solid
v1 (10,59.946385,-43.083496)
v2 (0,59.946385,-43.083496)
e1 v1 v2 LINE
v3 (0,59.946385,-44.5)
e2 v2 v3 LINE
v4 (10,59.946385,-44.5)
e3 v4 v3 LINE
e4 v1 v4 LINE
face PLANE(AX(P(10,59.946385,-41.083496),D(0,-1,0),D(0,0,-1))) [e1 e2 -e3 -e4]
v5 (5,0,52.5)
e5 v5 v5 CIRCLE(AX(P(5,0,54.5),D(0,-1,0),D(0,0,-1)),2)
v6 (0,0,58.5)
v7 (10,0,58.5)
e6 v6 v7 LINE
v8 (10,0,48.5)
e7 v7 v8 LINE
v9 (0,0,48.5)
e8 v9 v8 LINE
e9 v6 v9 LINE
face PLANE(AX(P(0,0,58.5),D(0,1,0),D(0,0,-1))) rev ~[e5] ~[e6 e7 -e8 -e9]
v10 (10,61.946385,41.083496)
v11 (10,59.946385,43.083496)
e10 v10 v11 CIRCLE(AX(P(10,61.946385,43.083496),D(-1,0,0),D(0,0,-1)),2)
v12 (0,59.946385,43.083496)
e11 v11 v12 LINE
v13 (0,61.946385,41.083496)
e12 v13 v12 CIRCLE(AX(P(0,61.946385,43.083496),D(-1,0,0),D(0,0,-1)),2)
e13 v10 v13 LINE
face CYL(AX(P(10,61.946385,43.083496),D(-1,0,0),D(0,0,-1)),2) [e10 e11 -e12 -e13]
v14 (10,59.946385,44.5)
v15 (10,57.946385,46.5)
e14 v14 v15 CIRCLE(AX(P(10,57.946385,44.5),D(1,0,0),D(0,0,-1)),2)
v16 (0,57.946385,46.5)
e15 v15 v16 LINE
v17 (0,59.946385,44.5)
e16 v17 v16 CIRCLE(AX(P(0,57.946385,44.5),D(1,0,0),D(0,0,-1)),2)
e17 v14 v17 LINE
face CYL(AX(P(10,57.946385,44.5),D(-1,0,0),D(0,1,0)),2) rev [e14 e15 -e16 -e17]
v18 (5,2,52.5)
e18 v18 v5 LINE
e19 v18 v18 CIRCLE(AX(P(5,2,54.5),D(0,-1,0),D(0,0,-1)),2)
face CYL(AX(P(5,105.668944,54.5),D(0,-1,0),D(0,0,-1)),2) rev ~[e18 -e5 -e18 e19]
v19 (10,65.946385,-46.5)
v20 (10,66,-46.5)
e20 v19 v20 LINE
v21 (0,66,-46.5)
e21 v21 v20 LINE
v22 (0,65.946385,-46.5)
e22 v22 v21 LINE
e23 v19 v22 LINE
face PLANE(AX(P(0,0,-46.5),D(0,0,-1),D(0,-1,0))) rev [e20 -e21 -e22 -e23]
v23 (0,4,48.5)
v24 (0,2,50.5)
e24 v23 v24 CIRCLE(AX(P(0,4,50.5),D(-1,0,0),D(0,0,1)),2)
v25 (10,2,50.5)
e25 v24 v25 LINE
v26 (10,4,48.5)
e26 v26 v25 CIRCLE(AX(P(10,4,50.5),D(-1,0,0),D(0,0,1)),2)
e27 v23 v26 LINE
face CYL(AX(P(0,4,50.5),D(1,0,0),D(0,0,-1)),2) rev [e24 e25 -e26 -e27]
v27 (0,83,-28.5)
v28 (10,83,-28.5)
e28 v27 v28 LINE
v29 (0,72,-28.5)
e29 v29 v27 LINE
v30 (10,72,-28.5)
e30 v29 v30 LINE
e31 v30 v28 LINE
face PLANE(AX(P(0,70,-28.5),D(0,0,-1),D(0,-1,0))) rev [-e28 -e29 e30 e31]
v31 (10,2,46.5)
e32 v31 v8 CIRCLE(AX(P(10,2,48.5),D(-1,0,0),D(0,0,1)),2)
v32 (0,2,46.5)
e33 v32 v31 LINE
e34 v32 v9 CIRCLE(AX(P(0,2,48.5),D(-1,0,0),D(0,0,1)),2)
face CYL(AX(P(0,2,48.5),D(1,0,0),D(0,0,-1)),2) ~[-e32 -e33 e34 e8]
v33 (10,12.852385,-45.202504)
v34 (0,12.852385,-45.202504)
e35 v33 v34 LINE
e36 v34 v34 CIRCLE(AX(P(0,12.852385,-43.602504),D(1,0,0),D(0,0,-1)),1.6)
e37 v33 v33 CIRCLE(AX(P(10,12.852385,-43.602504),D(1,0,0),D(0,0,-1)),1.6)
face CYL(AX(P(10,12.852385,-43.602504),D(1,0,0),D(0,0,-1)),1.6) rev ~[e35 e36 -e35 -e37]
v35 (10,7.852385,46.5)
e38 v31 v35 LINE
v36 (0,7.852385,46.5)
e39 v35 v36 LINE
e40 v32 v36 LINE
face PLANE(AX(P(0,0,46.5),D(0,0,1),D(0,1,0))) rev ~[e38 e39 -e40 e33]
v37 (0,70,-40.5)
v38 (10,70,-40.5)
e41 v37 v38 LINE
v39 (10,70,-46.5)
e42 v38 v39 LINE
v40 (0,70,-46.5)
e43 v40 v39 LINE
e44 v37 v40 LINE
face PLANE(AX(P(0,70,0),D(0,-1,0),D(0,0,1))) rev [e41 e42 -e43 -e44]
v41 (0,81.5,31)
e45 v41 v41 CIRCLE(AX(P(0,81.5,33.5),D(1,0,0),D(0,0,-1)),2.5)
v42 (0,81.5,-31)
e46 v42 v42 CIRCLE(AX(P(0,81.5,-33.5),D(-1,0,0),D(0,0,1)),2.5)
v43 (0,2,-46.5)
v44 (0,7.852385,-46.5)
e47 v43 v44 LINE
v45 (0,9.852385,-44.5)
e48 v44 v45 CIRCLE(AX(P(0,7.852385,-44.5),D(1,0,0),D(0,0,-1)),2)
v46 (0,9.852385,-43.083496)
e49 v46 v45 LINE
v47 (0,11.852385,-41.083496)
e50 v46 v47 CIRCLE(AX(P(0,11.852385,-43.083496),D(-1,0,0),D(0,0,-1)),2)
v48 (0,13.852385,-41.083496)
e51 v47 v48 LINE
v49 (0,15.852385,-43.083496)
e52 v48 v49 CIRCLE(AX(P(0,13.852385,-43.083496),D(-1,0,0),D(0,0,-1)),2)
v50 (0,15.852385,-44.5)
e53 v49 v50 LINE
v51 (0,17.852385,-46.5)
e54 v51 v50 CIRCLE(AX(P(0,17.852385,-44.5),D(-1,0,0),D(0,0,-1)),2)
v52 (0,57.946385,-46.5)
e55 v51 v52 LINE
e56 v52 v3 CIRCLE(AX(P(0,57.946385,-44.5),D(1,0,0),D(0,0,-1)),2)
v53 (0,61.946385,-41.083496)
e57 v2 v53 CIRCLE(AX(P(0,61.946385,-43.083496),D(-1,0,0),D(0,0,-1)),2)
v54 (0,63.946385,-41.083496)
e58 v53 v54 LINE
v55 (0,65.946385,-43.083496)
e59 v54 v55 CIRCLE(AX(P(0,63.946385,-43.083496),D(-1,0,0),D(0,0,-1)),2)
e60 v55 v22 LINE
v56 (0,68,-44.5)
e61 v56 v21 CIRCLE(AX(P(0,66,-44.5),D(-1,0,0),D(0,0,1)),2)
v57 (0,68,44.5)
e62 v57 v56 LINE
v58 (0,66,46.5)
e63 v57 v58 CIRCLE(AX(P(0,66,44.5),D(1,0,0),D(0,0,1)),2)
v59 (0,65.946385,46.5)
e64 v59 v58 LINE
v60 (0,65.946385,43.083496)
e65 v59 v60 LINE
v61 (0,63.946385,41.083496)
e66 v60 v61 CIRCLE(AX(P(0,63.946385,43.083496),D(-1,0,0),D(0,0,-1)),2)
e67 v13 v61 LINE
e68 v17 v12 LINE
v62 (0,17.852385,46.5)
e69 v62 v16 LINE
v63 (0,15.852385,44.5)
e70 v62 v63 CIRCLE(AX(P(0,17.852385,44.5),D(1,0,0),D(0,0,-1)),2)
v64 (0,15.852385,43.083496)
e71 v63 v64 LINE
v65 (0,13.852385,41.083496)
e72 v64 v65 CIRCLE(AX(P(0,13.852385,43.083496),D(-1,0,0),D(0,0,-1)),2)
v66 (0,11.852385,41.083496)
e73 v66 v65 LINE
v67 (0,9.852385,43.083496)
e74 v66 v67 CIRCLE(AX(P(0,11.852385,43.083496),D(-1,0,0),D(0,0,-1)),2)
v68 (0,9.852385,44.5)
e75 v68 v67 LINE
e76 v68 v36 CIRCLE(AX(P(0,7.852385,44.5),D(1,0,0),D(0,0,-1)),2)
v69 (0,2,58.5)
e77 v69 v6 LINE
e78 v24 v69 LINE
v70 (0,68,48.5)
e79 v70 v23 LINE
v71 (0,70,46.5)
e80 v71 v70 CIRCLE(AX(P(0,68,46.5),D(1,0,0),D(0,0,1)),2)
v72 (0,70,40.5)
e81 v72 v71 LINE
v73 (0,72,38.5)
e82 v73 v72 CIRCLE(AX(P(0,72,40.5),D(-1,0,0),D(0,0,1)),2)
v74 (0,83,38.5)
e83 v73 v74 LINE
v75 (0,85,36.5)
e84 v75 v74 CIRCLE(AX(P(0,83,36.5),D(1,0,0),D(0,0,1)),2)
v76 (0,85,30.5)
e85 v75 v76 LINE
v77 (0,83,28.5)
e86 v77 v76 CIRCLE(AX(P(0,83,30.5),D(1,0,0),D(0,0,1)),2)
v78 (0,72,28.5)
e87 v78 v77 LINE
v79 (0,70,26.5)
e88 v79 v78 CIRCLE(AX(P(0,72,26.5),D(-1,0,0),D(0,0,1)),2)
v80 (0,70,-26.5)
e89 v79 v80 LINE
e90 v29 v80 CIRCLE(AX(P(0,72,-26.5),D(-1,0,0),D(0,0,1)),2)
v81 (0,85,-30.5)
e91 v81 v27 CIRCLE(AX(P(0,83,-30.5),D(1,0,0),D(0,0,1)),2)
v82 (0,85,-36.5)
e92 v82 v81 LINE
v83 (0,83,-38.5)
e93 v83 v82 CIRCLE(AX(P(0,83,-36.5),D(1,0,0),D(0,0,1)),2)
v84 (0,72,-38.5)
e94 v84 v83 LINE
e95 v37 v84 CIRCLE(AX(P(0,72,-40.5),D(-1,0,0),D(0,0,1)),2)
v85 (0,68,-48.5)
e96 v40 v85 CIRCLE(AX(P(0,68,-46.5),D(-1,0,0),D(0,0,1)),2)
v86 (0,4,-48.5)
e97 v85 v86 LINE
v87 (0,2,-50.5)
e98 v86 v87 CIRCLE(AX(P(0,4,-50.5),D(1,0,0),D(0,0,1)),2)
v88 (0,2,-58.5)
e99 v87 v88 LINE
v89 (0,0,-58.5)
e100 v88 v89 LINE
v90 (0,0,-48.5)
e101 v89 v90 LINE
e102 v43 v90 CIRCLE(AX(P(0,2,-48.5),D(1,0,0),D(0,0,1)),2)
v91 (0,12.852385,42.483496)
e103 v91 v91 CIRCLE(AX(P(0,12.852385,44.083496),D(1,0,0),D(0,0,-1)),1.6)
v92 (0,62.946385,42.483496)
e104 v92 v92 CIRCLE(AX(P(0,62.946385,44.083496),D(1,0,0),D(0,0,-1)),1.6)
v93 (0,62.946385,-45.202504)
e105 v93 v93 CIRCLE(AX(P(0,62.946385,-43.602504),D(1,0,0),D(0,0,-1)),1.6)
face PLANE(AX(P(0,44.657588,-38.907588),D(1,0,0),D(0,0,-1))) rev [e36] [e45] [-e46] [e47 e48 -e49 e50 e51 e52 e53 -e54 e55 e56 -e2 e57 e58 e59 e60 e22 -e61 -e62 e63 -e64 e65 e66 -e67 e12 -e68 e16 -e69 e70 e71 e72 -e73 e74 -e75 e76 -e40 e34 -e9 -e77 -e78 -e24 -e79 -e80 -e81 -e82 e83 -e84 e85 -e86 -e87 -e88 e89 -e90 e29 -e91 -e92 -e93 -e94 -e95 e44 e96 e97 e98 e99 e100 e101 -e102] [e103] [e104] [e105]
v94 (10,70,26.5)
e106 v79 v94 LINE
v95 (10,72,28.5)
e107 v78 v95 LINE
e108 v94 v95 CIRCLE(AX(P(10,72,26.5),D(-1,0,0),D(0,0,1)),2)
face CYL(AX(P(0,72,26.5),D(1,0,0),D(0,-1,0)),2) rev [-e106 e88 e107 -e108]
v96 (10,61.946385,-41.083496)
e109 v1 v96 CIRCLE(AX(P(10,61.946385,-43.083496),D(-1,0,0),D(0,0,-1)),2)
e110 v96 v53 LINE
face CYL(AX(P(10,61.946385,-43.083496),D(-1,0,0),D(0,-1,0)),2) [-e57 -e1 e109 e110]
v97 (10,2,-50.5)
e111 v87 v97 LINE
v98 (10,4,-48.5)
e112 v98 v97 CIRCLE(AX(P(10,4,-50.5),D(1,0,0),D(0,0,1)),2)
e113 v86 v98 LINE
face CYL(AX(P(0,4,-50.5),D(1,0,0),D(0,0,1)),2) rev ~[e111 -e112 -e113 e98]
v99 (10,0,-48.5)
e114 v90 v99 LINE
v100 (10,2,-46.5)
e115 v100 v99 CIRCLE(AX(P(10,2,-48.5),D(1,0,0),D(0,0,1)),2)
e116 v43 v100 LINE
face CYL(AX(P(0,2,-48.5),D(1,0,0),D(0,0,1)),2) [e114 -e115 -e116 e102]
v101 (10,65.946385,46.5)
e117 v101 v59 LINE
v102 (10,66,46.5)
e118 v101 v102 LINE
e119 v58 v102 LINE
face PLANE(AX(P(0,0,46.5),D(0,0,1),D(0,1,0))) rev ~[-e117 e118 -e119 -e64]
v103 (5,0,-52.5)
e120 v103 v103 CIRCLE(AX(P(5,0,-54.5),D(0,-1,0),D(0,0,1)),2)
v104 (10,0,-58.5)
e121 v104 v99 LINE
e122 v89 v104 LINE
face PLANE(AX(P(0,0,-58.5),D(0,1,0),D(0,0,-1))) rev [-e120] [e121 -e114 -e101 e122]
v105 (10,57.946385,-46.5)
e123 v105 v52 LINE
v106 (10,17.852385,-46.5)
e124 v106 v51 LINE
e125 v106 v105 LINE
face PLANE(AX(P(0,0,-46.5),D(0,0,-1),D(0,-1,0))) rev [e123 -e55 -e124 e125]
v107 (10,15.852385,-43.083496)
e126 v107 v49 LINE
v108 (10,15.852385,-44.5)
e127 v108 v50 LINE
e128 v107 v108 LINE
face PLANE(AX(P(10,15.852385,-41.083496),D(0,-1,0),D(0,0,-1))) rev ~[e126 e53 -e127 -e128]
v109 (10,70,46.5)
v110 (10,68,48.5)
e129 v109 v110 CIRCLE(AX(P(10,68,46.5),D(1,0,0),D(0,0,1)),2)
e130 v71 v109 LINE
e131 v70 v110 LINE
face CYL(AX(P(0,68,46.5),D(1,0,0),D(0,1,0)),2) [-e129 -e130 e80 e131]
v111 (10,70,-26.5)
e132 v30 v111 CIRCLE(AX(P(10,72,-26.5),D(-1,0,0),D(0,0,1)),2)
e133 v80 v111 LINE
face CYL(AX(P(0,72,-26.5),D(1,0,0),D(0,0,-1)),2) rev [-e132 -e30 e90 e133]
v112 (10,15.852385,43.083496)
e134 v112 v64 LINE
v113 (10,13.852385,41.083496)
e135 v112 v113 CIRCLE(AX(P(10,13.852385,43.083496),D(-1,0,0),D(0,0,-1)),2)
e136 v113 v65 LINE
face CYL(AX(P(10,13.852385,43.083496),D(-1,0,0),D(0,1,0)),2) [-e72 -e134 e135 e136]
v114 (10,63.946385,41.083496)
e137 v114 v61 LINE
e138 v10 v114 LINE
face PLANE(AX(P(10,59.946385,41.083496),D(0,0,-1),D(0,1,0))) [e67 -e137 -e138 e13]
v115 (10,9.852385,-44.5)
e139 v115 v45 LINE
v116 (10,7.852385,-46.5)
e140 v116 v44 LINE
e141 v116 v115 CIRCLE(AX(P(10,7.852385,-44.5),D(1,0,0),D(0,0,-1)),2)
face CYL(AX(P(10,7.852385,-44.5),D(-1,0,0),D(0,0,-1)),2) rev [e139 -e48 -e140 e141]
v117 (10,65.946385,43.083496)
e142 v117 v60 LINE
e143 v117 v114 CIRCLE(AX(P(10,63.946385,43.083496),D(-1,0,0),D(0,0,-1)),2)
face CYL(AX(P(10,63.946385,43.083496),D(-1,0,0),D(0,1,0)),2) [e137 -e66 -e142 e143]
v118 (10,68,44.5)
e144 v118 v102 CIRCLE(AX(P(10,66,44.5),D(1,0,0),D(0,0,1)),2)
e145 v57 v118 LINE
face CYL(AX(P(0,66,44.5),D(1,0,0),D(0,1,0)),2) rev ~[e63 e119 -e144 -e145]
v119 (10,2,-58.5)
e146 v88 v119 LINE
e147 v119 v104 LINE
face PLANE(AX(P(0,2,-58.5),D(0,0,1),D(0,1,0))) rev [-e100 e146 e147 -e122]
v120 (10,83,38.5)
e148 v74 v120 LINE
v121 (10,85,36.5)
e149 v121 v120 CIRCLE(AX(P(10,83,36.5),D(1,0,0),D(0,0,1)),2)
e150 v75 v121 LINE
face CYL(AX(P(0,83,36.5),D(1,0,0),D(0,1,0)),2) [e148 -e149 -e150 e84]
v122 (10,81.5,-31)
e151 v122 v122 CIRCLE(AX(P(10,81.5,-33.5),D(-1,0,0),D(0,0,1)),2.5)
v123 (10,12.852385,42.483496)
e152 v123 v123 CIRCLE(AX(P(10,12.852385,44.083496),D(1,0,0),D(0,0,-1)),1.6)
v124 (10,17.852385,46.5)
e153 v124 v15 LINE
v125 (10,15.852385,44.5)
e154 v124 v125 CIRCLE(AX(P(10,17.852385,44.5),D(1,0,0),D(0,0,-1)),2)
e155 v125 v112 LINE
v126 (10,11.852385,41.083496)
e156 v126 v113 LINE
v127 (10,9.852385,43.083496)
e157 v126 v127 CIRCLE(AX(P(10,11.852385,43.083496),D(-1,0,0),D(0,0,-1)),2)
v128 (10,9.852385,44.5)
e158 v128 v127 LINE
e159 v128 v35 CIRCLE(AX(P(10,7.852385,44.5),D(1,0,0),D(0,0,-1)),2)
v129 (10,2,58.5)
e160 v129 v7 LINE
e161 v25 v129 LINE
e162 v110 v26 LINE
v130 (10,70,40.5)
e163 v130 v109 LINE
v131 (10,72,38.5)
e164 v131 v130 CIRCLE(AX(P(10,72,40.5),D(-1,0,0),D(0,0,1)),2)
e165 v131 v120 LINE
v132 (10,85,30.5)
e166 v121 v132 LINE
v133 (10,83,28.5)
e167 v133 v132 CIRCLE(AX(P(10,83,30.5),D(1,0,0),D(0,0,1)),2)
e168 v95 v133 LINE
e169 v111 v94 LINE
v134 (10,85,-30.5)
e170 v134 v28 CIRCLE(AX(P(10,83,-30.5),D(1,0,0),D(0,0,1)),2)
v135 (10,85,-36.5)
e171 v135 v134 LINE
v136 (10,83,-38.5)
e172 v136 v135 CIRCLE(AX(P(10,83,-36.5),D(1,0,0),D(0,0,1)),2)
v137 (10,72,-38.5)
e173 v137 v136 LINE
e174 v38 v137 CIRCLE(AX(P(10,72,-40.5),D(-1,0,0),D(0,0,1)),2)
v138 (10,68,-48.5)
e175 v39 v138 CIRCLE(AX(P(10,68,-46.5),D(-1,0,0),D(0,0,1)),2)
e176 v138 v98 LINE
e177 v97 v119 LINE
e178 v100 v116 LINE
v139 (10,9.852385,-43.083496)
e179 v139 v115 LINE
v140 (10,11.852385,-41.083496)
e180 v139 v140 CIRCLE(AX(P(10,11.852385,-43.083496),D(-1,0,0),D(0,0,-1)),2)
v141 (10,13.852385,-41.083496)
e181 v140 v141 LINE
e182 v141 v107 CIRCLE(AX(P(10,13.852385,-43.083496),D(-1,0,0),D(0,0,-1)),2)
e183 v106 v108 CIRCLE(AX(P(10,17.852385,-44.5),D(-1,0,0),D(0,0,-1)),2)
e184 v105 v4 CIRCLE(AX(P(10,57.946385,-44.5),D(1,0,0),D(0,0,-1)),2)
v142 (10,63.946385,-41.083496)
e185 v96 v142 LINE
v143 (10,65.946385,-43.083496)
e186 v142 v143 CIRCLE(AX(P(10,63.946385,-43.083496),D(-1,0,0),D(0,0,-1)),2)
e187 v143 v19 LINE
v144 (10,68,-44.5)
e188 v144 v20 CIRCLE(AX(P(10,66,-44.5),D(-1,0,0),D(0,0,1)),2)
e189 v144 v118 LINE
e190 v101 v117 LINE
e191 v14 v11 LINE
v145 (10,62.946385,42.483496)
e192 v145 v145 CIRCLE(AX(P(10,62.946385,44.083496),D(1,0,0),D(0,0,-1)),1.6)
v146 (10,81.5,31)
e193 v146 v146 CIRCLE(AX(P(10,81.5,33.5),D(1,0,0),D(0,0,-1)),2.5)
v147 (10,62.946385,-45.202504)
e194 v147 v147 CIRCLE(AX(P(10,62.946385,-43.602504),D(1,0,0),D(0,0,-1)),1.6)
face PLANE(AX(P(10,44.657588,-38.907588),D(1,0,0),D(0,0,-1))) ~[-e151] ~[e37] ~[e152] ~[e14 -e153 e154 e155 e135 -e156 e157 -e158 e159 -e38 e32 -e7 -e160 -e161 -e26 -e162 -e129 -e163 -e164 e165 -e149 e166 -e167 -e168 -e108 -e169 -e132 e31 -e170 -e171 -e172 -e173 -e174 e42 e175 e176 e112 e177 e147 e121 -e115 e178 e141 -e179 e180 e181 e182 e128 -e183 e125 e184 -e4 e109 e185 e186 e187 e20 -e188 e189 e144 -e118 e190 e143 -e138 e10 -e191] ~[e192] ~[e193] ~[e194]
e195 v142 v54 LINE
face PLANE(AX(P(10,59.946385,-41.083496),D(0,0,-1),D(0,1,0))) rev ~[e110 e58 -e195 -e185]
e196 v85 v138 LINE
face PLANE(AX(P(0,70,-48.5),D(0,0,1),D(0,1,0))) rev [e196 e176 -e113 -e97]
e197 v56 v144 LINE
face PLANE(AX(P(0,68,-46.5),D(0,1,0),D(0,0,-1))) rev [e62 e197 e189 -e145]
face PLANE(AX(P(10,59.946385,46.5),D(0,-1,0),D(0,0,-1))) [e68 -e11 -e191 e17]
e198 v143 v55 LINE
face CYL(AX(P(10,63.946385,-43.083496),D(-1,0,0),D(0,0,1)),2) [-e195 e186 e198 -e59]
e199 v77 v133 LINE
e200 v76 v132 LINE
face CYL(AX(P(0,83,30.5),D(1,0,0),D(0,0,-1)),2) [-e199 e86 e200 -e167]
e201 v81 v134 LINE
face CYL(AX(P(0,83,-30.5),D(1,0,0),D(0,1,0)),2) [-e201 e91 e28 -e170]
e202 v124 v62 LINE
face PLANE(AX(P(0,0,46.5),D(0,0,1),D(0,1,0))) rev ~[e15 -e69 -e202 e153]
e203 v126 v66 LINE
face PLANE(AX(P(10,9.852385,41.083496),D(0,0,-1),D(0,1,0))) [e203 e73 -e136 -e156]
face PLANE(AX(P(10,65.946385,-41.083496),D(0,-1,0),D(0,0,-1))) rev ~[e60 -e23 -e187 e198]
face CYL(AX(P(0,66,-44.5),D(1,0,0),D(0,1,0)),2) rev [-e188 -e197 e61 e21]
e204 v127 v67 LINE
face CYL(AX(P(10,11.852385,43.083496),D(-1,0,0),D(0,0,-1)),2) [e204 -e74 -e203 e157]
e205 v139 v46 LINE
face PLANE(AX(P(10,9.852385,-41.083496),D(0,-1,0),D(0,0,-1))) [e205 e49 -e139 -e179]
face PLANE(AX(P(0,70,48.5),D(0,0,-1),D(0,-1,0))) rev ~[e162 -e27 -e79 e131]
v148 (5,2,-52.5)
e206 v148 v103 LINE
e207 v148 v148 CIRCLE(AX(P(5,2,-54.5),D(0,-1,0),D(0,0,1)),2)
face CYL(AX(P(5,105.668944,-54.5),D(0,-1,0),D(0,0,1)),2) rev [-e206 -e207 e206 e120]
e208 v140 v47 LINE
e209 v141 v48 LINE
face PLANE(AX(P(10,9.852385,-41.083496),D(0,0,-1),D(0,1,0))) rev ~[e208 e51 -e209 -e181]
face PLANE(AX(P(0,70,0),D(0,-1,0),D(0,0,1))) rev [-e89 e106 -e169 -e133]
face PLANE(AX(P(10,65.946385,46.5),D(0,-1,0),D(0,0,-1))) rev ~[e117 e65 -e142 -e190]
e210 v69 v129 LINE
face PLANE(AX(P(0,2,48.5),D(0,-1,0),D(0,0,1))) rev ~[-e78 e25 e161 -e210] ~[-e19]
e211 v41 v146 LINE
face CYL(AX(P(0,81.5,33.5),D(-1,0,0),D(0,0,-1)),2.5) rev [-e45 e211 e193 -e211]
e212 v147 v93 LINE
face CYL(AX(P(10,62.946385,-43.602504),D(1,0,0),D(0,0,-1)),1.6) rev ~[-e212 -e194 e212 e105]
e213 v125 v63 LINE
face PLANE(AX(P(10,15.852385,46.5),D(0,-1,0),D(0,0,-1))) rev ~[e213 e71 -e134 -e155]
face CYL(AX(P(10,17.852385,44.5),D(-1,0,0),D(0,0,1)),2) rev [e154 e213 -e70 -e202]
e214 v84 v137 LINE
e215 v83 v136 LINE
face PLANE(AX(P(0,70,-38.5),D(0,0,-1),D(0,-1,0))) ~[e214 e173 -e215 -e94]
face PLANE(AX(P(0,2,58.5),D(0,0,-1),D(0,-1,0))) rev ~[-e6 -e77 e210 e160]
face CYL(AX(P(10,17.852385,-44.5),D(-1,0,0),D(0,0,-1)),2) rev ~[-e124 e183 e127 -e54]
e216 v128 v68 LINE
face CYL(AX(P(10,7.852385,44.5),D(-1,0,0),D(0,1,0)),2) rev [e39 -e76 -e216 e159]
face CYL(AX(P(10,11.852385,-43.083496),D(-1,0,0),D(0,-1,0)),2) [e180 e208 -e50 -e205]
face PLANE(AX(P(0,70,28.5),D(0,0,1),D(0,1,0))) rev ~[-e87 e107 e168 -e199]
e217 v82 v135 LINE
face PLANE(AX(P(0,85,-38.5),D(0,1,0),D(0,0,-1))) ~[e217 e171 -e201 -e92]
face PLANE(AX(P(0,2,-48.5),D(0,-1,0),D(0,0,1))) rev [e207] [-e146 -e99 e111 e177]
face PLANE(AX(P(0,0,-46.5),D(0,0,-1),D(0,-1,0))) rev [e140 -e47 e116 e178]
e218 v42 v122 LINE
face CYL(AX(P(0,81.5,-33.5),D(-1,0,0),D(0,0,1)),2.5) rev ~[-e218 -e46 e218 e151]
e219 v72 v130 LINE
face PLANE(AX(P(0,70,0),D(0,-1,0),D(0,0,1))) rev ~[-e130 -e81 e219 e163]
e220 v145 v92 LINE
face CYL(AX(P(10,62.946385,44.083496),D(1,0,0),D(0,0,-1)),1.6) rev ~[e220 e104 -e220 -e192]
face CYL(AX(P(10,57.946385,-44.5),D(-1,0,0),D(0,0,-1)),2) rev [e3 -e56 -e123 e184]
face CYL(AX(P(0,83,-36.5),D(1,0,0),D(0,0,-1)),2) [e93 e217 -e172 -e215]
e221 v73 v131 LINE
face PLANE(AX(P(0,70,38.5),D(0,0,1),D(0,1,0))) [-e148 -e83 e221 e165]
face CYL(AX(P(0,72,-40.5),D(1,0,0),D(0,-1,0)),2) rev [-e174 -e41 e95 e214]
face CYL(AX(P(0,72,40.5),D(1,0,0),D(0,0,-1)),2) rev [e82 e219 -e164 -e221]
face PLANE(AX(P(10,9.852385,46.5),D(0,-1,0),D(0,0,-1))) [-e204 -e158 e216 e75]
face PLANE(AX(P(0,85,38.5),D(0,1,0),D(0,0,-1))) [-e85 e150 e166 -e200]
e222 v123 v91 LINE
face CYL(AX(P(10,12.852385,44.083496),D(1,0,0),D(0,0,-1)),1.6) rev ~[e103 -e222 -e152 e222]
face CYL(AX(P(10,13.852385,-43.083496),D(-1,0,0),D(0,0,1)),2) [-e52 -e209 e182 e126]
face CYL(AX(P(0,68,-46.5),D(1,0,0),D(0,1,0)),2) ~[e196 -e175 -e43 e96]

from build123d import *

# Parameters (mm, degrees)
SKETCH1_W             = 10
SKETCH1_H             = 15
SKETCH1_R             = 2.5
BOSS_EXTRUDE1_DEPTH   = 10
FILLET1_R             = 2
F_4_0MM_DOWEL_HOLE1_D = 4
SKETCH4_W             = 5.416503596
SKETCH4_H             = 6
SKETCH4_R             = 1.6
BOSS_EXTRUDE2_DEPTH   = 10
FILLET1_OF_MIRROR1_R  = 2
SKETCH5_W             = 5.416503596
SKETCH5_H             = 6
SKETCH5_R             = 1.6
BOSS_EXTRUDE3_DEPTH   = 10
FILLET2_R             = 2


with BuildPart() as part:
    # Sketch1 → Boss-Extrude1 (new body)
    # profile 1 of 2: a face of its own
    with BuildSketch(Plane(origin=(0, 0, 0), x_dir=(0, 0, -1), z_dir=(1, 0, 0))):
        with Locations((-33.5, 77.5)):
            Rectangle(SKETCH1_W, SKETCH1_H)
        with Locations((-33.5, 81.5)):
            Circle(SKETCH1_R, mode=Mode.SUBTRACT)
    # profile 2 of 2: a face of its own
    with BuildSketch(Plane(origin=(0, 0, 0), x_dir=(0, 0, -1), z_dir=(1, 0, 0))):
        Polygon((-46.5, 68), (0, 68), (0, 70), (-48.5, 70), (-48.5, 2), (-58.5, 2), (-58.5, 0), (-46.5, 0), align=None)
    boss_extrude1 = extrude(amount=BOSS_EXTRUDE1_DEPTH)

    # Fillet1
    fillet1_edges = [part.edges().sort_by_distance(p)[0] for p in [
        (5, 68, 46.5),
        (5, 2, 48.5),
        (5, 70, 48.5),
    ]]
    fillet(fillet1_edges, radius=FILLET1_R)

    # Ø4.0mm Dowel Hole1 (through all)
    with Locations(Plane(origin=(5, 2, 54.5), x_dir=(0, 0, 1), z_dir=(0, 1, 0))):
        with Locations((0, 0)):
            f_4_0mm_dowel_hole1 = Hole(F_4_0MM_DOWEL_HOLE1_D / 2)

    # Sketch4 → Boss-Extrude2 (add)
    # profile 1 of 2: a face of its own
    with BuildSketch(Plane(origin=(10, 0, 0), x_dir=(0, 0, -1), z_dir=(1, 0, 0))):
        with Locations((-43.791748202, 62.946385234)):
            Rectangle(SKETCH4_W, SKETCH4_H)
        with Locations((-44.083496404, 62.946385234)):
            Circle(SKETCH4_R, mode=Mode.SUBTRACT)
    # profile 2 of 2: a face of its own
    with BuildSketch(Plane(origin=(10, 0, 0), x_dir=(0, 0, -1), z_dir=(1, 0, 0))):
        with Locations((-43.791748202, 12.852385234)):
            Rectangle(SKETCH4_W, SKETCH4_H)
        with Locations((-44.083496404, 12.852385234)):
            Circle(SKETCH4_R, mode=Mode.SUBTRACT)
    extrude(amount=-BOSS_EXTRUDE2_DEPTH)

    # Mirror1: Boss-Extrude1, Ø4.0mm Dowel Hole1 across plane
    add(boss_extrude1.mirror(Plane.XY))
    add(f_4_0mm_dowel_hole1.mirror(Plane.XY), mode=Mode.SUBTRACT)

    # Fillet1 of Mirror1
    fillet1_of_mirror1_edges = [part.edges().sort_by_distance(p)[0] for p in [
        (5, 68, -46.5),
        (5, 2, -48.5),
        (5, 70, -48.5),
    ]]
    fillet(fillet1_of_mirror1_edges, radius=FILLET1_OF_MIRROR1_R)

    # Sketch5 → Boss-Extrude3 (add)
    # profile 1 of 2: a face of its own
    with BuildSketch(Plane(origin=(10, 0, 0), x_dir=(0, 0, -1), z_dir=(1, 0, 0))):
        with Locations((43.791748202, 62.946385234)):
            Rectangle(SKETCH5_W, SKETCH5_H)
        with Locations((43.602503596, 62.946385234)):
            Circle(SKETCH5_R, mode=Mode.SUBTRACT)
    # profile 2 of 2: a face of its own
    with BuildSketch(Plane(origin=(10, 0, 0), x_dir=(0, 0, -1), z_dir=(1, 0, 0))):
        with Locations((43.791748202, 12.852385234)):
            Rectangle(SKETCH5_W, SKETCH5_H)
        with Locations((43.602503596, 12.852385234)):
            Circle(SKETCH5_R, mode=Mode.SUBTRACT)
    extrude(amount=-BOSS_EXTRUDE3_DEPTH)

    # Fillet2
    fillet2_edges = [part.edges().sort_by_distance(p)[0] for p in [
        (5, 70, -38.5),
        (5, 85, -38.5),
        (5, 85, -28.5),
        (5, 70, -28.5),
        (5, 0, -46.5),
        (5, 65.946385234, -41.083496404),
        (5, 59.946385234, -41.083496404),
        (5, 59.946385234, -46.5),
        (5, 15.852385234, -46.5),
        (5, 15.852385234, -41.083496404),
        (5, 9.852385234, -41.083496404),
        (5, 9.852385234, -46.5),
        (5, 85, 38.5),
        (5, 85, 28.5),
        (5, 70, 28.5),
        (5, 0, 46.5),
        (5, 70, 38.5),
        (5, 65.946385234, 41.083496404),
        (5, 59.946385234, 41.083496404),
        (5, 59.946385234, 46.5),
        (5, 15.852385234, 41.083496404),
        (5, 15.852385234, 46.5),
        (5, 9.852385234, 46.5),
        (5, 9.852385234, 41.083496404),
    ]]
    fillet(fillet2_edges, radius=FILLET2_R)


solid = part.part
